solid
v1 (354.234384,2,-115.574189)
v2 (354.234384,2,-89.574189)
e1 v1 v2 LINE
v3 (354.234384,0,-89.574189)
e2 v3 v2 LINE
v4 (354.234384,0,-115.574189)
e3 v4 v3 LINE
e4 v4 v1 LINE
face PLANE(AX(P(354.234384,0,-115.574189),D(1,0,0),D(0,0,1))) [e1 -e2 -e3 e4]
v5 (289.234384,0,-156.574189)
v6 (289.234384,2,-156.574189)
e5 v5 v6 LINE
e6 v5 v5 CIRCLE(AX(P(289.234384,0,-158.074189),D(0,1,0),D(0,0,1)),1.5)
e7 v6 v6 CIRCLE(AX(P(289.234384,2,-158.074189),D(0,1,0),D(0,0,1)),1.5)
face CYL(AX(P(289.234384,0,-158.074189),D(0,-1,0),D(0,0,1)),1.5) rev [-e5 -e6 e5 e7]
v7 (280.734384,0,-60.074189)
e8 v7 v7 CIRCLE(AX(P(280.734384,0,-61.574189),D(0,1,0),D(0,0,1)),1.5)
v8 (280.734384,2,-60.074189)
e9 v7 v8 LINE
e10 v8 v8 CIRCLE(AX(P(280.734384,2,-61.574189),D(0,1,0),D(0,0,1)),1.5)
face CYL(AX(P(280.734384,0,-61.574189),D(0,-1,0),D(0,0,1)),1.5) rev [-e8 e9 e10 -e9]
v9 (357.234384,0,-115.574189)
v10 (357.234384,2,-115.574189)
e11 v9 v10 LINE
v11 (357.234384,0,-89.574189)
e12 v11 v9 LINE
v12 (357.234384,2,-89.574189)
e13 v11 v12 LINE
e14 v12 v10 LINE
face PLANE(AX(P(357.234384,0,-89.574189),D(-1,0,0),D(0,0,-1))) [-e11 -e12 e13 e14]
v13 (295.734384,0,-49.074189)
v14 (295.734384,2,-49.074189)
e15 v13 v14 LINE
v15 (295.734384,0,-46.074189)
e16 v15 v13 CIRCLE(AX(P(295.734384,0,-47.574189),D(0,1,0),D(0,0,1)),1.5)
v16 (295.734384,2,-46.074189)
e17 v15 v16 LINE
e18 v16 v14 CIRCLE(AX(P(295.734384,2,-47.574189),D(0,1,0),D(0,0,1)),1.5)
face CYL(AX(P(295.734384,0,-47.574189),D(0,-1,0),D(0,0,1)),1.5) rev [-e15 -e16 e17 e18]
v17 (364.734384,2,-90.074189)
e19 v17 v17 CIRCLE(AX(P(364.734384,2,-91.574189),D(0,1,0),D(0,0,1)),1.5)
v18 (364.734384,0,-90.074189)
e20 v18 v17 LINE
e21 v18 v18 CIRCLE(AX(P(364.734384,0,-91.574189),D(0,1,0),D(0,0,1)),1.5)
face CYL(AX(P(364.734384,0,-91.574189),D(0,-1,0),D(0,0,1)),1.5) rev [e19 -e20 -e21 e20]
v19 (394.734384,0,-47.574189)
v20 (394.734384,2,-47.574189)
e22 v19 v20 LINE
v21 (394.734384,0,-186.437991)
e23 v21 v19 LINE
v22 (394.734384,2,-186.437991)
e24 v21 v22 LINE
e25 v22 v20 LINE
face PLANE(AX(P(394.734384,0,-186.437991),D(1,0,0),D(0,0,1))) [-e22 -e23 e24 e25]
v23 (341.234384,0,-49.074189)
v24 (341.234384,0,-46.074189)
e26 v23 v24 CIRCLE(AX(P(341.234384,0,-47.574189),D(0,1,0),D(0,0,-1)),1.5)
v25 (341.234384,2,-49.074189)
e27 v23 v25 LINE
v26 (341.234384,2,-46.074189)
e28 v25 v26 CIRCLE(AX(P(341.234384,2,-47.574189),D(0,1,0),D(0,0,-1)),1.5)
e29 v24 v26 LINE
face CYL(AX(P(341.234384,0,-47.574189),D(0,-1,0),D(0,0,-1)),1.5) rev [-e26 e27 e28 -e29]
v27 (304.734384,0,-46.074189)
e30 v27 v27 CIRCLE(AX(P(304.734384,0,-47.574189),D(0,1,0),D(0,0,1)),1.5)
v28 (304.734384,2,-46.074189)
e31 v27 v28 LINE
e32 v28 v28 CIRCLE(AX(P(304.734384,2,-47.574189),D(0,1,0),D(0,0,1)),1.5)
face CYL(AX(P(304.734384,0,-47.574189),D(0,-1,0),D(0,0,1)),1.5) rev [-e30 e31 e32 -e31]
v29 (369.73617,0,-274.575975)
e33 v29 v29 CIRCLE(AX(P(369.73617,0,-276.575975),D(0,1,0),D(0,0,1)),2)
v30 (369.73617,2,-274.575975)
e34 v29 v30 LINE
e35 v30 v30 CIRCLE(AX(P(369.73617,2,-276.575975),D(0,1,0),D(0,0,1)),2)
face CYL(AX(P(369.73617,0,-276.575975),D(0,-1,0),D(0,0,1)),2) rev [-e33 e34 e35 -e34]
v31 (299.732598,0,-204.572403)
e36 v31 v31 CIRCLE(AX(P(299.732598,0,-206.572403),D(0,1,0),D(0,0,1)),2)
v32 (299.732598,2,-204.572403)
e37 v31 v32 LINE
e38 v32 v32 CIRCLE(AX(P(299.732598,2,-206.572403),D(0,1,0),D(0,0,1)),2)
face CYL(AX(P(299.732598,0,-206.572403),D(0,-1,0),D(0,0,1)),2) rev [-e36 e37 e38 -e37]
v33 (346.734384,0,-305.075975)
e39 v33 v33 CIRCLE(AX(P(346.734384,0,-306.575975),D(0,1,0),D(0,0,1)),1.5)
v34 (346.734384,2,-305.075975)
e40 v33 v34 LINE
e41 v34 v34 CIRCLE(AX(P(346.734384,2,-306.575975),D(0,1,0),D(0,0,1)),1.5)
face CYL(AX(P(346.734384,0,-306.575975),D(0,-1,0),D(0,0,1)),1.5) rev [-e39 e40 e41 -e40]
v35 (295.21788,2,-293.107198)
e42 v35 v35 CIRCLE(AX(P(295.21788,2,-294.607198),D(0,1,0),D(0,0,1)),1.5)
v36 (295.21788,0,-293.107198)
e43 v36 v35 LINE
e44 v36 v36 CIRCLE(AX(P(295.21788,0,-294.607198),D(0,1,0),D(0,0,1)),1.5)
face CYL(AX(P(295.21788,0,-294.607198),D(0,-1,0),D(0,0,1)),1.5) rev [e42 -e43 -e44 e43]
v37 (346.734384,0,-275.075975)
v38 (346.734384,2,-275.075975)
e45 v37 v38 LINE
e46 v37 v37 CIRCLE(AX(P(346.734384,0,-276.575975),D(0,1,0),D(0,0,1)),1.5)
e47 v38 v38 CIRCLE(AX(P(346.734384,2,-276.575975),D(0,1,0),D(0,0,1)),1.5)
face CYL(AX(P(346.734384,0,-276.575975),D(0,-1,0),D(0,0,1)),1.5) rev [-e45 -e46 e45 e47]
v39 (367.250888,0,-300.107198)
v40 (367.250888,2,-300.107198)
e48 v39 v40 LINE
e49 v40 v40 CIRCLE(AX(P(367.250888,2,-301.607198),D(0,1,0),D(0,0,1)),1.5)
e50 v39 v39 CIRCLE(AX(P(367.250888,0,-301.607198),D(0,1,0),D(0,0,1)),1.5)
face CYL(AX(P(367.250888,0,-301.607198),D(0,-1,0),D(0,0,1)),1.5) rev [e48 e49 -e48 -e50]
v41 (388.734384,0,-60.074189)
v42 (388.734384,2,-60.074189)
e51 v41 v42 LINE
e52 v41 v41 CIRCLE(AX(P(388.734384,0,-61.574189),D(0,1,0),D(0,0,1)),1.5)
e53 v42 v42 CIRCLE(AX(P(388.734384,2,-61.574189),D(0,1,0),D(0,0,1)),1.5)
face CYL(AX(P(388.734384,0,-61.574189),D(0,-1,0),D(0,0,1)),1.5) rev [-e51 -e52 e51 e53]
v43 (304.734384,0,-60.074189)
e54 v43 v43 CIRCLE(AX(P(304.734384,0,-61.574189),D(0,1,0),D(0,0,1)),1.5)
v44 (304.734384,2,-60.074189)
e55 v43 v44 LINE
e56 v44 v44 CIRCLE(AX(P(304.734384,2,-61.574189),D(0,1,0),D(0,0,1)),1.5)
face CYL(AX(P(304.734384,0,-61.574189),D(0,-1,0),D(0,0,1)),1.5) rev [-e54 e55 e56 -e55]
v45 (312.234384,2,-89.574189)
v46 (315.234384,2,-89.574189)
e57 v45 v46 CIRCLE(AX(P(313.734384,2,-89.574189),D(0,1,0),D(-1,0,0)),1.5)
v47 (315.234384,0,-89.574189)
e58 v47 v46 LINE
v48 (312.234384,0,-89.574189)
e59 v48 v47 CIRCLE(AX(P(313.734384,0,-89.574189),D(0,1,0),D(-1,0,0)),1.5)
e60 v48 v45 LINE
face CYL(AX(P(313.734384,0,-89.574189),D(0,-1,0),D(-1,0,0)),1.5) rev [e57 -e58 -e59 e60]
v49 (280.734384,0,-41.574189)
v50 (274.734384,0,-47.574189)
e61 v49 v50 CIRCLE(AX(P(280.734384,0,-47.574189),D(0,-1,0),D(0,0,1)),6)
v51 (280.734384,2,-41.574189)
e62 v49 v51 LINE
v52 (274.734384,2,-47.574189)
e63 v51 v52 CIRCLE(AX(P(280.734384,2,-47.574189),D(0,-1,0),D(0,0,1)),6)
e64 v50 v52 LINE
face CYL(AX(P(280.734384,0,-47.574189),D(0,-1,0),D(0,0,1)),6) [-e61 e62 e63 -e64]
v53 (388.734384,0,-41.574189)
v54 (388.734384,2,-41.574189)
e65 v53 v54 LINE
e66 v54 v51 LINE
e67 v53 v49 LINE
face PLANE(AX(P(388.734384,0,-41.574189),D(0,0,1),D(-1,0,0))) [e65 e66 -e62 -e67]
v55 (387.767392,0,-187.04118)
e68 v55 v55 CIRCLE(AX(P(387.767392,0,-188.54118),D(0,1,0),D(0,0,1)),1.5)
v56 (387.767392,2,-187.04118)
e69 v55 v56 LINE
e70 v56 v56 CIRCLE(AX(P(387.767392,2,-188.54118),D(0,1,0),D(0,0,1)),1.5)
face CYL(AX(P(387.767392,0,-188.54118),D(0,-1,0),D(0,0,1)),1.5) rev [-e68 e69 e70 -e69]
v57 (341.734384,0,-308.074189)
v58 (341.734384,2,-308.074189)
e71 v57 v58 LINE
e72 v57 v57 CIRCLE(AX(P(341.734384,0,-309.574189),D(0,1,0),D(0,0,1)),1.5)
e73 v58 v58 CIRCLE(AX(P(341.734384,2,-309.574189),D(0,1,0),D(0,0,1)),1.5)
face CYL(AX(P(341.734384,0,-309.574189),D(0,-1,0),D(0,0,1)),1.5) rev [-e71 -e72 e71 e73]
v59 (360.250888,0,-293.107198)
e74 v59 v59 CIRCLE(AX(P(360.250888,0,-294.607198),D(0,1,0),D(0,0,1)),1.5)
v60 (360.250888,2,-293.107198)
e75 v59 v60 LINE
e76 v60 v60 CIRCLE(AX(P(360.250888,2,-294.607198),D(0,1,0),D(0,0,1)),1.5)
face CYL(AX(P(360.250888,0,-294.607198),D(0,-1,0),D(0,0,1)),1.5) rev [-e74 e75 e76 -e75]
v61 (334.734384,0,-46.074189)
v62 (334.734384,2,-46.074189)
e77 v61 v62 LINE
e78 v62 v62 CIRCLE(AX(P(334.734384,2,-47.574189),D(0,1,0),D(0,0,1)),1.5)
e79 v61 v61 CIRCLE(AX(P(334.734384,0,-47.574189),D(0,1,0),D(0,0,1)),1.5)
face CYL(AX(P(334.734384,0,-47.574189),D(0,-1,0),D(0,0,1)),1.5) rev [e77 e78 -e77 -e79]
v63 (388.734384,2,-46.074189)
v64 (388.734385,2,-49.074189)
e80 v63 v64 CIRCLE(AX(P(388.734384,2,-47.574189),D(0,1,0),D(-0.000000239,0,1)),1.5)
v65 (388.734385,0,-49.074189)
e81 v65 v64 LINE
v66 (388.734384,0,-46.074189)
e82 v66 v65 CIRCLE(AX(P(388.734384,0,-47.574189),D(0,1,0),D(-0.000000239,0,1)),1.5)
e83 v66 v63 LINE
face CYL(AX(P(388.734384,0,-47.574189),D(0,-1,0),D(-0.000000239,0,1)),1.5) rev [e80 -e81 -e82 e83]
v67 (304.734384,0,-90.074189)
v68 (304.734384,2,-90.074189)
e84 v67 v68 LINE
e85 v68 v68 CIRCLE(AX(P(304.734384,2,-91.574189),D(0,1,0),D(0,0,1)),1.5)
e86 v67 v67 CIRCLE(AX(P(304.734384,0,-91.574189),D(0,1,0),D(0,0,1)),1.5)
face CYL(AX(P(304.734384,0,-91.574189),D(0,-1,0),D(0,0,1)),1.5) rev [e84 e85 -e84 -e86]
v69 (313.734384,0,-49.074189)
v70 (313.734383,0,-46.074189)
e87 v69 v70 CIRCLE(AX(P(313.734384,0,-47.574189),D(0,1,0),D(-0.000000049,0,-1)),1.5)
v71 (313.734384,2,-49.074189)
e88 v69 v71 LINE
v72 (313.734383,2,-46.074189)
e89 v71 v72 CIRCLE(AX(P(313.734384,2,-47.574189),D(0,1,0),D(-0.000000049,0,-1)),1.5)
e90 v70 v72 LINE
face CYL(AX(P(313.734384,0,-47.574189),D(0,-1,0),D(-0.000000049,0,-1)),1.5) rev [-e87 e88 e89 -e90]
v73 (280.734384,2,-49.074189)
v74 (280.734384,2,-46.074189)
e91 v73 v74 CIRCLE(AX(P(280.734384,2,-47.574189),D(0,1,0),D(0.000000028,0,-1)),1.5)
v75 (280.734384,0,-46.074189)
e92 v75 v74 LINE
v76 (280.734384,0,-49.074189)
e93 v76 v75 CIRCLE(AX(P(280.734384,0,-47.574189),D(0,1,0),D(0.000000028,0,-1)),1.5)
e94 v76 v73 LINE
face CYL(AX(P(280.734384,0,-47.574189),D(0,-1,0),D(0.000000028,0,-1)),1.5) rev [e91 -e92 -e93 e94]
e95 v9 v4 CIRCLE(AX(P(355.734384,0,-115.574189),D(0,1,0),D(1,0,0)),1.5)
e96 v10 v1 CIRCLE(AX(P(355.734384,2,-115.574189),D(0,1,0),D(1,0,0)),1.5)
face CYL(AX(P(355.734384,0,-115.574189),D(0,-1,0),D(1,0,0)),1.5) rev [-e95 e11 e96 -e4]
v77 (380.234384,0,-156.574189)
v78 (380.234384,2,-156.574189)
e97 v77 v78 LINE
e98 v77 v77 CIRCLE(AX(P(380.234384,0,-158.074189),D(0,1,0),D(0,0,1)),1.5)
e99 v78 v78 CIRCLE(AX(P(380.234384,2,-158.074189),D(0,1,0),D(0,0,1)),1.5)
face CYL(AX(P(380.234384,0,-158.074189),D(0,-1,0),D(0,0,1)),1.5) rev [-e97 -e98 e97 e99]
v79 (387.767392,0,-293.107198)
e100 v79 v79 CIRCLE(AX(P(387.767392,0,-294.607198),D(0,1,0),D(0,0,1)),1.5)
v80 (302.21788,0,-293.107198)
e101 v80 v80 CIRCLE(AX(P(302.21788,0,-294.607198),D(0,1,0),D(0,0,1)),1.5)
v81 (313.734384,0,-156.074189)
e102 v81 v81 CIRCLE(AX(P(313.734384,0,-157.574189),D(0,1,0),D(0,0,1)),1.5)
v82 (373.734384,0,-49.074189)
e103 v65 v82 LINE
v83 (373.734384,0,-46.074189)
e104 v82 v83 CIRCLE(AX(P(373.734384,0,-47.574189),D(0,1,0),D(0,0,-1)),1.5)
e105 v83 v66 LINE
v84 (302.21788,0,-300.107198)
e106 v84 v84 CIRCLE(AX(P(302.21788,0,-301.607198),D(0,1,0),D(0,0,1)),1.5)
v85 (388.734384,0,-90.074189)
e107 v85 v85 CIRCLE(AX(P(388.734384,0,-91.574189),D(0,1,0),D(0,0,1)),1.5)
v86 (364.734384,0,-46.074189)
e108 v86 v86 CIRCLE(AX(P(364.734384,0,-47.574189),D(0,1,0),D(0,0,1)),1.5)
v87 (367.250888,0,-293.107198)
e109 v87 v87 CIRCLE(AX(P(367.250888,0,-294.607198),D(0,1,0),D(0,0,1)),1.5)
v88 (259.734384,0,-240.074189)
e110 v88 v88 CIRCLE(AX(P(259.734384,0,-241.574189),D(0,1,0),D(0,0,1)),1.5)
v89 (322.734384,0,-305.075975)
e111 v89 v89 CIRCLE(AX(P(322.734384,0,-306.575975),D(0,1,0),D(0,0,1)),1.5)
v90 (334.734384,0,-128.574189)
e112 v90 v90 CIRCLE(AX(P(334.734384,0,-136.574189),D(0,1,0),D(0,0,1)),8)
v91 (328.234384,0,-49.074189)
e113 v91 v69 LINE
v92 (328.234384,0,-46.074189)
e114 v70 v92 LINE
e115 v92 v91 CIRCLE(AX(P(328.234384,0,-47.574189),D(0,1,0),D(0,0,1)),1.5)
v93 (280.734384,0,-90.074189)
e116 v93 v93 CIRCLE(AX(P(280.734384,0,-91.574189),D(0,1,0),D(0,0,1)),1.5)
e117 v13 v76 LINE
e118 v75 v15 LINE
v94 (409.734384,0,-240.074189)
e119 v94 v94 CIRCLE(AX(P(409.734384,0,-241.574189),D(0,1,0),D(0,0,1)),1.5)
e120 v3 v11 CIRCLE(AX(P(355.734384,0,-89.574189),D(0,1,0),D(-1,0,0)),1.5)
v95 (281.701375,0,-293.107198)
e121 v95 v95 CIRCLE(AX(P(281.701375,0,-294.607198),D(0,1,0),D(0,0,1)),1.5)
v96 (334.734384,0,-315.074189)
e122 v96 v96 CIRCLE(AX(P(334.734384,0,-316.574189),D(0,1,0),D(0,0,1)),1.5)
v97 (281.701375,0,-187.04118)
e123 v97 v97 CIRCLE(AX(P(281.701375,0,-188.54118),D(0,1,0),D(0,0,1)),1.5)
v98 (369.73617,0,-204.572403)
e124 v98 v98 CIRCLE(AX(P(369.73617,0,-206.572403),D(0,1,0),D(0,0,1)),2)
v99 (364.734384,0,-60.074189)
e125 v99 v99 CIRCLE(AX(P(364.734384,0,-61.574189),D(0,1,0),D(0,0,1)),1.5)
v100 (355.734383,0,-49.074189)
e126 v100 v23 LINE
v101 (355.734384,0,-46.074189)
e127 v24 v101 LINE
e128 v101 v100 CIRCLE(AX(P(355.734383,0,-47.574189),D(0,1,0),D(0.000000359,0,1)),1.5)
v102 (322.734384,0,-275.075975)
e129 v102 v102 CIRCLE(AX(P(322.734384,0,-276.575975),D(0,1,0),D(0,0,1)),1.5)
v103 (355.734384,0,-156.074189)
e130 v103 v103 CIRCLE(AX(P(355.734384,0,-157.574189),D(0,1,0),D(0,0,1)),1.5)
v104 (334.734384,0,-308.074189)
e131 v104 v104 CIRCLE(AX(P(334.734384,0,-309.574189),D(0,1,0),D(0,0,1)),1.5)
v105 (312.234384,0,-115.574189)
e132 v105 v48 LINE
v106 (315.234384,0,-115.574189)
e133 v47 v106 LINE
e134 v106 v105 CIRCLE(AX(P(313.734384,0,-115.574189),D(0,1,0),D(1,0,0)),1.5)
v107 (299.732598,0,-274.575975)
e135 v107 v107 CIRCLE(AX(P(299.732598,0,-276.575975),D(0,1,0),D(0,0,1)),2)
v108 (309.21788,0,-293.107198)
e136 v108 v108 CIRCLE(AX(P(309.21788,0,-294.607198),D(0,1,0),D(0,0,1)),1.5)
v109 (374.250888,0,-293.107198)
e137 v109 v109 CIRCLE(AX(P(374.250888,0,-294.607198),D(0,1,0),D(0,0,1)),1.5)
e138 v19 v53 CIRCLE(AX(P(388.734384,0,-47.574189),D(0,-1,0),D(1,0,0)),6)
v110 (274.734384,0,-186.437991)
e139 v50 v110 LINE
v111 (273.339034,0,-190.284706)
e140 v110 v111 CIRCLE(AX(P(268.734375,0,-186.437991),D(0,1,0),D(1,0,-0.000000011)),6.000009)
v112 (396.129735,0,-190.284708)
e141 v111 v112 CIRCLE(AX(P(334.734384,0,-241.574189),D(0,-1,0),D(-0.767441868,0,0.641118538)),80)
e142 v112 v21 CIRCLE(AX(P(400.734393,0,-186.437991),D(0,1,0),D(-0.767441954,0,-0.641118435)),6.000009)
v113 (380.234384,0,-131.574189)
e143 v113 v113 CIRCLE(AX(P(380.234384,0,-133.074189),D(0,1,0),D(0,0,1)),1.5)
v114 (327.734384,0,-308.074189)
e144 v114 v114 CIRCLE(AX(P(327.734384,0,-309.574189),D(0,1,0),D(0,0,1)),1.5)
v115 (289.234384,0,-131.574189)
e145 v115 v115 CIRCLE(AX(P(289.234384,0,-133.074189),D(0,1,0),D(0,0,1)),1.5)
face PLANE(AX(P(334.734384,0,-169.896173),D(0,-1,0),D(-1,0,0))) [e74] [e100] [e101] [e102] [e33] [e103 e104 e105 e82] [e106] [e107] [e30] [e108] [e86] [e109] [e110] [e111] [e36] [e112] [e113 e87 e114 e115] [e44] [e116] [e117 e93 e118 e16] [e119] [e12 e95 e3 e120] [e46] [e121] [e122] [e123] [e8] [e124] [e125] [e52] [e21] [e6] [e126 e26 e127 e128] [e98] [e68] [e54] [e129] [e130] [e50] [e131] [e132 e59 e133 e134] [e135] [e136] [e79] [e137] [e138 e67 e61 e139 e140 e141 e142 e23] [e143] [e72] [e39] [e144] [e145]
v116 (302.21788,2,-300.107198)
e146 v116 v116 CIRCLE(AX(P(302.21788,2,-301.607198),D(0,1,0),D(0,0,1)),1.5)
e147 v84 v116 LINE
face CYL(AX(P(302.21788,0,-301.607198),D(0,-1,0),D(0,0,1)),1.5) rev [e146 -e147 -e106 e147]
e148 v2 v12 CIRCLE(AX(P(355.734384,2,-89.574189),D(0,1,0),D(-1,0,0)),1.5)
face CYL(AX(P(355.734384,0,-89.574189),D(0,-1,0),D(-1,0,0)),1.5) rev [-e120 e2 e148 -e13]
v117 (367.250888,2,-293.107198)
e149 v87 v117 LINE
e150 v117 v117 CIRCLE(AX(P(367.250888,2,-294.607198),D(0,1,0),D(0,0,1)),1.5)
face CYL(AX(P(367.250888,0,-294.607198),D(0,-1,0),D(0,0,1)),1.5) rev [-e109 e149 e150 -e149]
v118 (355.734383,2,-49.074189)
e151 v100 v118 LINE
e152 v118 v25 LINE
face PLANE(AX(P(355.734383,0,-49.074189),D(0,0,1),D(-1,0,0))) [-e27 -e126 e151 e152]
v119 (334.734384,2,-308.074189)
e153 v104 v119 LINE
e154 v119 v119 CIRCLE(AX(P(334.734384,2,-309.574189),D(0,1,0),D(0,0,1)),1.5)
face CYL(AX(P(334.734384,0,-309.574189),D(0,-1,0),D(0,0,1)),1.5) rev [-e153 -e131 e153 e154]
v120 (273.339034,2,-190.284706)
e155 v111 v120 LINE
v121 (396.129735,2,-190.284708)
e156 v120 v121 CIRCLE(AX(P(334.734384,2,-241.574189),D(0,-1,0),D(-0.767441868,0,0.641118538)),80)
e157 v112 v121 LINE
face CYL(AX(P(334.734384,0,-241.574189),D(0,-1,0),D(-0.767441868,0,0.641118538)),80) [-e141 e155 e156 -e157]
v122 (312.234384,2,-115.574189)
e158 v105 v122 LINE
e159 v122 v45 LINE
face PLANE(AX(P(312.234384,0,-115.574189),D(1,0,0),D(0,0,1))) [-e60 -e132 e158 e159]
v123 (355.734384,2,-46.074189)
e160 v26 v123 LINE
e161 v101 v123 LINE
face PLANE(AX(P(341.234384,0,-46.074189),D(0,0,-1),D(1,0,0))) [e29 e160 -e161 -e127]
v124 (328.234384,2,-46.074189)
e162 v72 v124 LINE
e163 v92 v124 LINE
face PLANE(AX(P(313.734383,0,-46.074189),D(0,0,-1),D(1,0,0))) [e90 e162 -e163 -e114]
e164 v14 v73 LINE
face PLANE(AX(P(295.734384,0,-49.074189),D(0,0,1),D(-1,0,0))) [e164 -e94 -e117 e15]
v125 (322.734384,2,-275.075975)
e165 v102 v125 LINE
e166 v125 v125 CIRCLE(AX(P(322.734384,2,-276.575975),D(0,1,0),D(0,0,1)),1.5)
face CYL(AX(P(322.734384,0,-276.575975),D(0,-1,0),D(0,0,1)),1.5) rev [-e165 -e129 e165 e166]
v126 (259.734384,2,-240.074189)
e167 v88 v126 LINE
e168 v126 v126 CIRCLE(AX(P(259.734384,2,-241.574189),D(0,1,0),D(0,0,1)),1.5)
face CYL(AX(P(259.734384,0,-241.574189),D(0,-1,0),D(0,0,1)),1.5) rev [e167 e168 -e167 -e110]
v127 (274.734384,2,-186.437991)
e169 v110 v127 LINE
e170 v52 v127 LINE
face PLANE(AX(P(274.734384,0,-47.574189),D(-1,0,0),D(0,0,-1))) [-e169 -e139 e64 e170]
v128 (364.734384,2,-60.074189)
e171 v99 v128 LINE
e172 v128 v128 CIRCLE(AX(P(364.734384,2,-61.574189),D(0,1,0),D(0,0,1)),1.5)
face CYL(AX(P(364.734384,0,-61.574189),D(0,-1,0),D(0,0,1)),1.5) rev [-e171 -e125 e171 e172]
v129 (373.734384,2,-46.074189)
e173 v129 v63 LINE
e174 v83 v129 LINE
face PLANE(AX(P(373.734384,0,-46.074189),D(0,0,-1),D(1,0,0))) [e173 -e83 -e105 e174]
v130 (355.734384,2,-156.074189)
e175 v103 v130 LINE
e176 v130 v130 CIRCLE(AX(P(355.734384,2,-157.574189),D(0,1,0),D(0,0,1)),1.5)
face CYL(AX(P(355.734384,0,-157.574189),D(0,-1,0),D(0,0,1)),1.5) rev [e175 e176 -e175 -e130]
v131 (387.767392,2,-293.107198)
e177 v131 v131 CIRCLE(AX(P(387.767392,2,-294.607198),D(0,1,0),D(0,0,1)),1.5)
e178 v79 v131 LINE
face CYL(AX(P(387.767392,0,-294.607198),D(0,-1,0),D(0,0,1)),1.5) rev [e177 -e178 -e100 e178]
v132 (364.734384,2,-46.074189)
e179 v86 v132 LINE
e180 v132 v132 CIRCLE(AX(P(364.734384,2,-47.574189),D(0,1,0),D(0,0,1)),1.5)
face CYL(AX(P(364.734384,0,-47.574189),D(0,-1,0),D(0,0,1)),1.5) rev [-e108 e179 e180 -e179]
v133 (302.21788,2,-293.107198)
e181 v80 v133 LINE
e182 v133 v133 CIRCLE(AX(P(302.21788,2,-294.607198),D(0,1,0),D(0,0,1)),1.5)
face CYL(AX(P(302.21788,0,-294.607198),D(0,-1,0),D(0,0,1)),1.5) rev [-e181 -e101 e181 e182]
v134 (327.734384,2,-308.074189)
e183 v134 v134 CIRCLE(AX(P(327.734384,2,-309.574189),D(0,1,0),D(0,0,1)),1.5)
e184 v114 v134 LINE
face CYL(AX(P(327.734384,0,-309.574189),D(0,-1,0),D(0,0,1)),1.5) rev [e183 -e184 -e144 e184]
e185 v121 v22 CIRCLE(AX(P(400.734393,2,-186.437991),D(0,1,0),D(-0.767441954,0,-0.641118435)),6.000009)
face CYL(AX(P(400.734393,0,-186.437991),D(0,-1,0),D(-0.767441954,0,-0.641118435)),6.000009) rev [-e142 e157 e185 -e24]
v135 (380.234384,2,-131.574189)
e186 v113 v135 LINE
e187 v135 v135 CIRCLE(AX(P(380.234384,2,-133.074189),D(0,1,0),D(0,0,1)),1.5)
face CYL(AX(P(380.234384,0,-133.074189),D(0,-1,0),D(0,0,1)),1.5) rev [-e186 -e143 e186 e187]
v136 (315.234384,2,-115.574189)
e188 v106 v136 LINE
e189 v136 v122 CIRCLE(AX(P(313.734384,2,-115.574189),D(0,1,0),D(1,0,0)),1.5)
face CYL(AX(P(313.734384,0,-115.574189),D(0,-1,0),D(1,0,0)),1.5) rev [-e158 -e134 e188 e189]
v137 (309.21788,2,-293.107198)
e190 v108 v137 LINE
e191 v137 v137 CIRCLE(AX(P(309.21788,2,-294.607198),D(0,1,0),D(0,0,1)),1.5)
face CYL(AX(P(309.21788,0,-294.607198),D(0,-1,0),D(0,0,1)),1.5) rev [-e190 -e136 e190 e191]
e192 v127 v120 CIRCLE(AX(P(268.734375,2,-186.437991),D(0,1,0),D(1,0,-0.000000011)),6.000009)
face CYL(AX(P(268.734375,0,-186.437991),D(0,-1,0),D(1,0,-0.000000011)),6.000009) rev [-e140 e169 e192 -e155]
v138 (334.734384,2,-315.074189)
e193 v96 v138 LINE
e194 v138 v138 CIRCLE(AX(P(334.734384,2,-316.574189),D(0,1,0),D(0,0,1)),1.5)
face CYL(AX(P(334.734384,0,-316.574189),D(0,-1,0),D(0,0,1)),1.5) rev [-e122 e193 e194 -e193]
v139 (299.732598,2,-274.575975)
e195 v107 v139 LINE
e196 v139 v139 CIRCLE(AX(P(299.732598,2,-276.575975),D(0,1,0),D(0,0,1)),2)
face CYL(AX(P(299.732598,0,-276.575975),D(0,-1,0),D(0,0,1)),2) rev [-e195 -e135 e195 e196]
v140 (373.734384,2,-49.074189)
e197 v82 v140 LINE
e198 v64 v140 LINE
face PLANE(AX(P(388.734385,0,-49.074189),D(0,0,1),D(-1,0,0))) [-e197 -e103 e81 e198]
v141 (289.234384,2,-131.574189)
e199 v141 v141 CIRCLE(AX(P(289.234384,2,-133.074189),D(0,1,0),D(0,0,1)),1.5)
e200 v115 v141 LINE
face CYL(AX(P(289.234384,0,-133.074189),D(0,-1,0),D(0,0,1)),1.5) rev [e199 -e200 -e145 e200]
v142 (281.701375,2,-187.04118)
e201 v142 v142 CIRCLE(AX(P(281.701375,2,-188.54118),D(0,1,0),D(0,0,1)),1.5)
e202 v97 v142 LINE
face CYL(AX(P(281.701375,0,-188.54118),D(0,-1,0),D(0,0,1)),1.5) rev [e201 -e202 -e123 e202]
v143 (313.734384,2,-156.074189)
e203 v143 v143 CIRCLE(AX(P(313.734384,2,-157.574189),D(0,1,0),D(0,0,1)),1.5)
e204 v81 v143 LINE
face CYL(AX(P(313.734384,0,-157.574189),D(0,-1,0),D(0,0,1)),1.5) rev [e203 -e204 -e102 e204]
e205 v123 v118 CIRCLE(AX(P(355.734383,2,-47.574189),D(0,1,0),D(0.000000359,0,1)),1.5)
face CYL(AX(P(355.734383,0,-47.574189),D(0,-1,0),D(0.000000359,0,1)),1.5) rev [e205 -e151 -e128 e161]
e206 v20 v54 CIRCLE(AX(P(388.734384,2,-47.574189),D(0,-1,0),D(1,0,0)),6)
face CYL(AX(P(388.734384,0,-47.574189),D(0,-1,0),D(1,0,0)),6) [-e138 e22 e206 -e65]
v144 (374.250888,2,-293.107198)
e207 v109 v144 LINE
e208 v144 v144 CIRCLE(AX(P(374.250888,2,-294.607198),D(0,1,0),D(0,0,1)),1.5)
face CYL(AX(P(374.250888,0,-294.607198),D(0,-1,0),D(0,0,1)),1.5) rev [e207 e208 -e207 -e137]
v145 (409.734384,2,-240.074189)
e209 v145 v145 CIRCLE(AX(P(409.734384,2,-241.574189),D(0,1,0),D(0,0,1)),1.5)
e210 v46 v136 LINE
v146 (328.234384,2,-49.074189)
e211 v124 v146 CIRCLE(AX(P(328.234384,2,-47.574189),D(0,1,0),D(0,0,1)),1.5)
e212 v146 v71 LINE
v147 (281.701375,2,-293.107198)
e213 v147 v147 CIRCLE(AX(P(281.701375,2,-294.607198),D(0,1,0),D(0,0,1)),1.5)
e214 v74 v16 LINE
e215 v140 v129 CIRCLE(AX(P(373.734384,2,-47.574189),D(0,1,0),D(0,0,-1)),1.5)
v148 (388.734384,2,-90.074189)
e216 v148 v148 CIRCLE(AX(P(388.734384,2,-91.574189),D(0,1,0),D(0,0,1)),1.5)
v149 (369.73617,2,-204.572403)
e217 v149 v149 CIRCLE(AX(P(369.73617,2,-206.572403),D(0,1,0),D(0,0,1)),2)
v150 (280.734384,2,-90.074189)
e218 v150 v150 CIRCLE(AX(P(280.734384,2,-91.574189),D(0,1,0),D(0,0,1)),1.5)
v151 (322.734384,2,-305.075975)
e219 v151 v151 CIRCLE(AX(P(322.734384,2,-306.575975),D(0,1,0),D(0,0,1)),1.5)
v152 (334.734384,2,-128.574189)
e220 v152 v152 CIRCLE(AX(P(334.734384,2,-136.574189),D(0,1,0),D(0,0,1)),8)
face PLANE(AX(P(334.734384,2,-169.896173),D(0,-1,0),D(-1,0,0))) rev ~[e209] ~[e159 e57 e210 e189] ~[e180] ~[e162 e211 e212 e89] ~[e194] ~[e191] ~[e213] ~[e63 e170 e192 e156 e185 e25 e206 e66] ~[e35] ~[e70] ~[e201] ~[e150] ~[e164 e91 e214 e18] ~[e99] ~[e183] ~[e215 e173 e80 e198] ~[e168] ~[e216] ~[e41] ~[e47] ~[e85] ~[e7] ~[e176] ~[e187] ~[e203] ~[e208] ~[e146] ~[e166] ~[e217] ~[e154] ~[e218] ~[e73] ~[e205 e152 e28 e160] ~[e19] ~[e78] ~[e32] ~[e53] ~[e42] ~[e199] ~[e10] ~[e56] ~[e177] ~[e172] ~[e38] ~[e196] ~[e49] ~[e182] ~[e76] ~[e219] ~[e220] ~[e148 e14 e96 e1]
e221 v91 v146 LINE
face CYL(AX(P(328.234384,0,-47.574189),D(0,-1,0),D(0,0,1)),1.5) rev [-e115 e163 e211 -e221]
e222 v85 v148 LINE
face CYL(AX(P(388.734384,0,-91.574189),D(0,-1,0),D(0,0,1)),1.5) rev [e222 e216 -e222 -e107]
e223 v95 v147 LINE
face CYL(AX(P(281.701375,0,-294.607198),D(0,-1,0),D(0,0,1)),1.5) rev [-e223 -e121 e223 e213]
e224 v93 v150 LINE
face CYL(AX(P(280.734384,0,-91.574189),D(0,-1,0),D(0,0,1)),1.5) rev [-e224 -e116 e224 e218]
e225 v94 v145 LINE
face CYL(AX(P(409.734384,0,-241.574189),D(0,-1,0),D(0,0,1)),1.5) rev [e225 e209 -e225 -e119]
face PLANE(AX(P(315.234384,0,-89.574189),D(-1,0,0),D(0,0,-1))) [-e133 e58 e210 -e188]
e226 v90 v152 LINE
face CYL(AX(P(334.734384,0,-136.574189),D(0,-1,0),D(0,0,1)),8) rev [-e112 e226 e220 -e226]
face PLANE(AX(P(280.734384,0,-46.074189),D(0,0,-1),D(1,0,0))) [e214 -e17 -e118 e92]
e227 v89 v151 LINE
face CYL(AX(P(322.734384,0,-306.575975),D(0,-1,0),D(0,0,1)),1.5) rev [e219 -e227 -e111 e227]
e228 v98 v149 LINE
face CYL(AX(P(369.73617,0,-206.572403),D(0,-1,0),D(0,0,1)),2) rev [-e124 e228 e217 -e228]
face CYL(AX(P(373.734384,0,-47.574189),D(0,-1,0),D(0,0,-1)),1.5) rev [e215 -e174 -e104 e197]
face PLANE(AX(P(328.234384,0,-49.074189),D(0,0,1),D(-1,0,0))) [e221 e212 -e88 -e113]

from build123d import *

# Parameters (mm, degrees)
SKETCH_1_R      = 2
SKETCH_1_R_2    = 1.5
SKETCH_1_R_3    = 8
EXTRUDE_1_DEPTH = 2


with BuildPart() as part:
    # 草图1 → 凸台-拉伸1 (new body)
    with BuildSketch(Plane(origin=(0, 0, 0), x_dir=(1, 0, 0), z_dir=(0, 1, 0))):
        with BuildLine():
            Line((394.734384308, 186.437991397), (394.734384308, 47.57418904))
            ThreePointArc((394.734384308, 47.57418904), (392.977024848, 43.331548206), (388.734383891, 41.574189041))
            Line((388.734383891, 41.574189041), (280.734383891, 41.574189041))
            ThreePointArc((280.734383891, 41.574189041), (276.491743204, 43.331548353), (274.734383891, 47.57418904))
            Line((274.734383891, 47.57418904), (274.734383891, 186.437990955))
            ThreePointArc((274.734383891, 186.437990955), (274.37476968, 188.483975832), (273.339034487, 190.284705991))
            ThreePointArc((273.339034487, 190.284705991), (334.734382872, 321.574189041), (396.129734602, 190.284707555))
            ThreePointArc((396.129734602, 190.284707555), (395.093998746, 188.483976956), (394.734384308, 186.437991397))
        make_face()
        with Locations(Location((369.73616956, 276.575974709, 0), (0, 0, 270))):
            Circle(SKETCH_1_R, mode=Mode.SUBTRACT)
        with Locations(Location((369.73616956, 206.572403372, 0), (0, 0, 270))):
            Circle(SKETCH_1_R, mode=Mode.SUBTRACT)
        with Locations(Location((299.732598222, 206.572403372, 0), (0, 0, 270))):
            Circle(SKETCH_1_R, mode=Mode.SUBTRACT)
        with Locations(Location((313.734383891, 157.57418904, 0), (0, 0, 270))):
            Circle(SKETCH_1_R_2, mode=Mode.SUBTRACT)
        with Locations(Location((355.734383891, 157.57418904, 0), (0, 0, 270))):
            Circle(SKETCH_1_R_2, mode=Mode.SUBTRACT)
        with Locations(Location((380.234383891, 133.07418904, 0), (0, 0, 270))):
            Circle(SKETCH_1_R_2, mode=Mode.SUBTRACT)
        with Locations(Location((380.234383891, 158.07418904, 0), (0, 0, 270))):
            Circle(SKETCH_1_R_2, mode=Mode.SUBTRACT)
        with Locations(Location((364.734383891, 61.57418904, 0), (0, 0, 270))):
            Circle(SKETCH_1_R_2, mode=Mode.SUBTRACT)
        with Locations(Location((388.734383891, 61.57418904, 0), (0, 0, 270))):
            Circle(SKETCH_1_R_2, mode=Mode.SUBTRACT)
        with Locations(Location((364.734383891, 91.57418904, 0), (0, 0, 270))):
            Circle(SKETCH_1_R_2, mode=Mode.SUBTRACT)
        with Locations(Location((388.734383891, 91.57418904, 0), (0, 0, 270))):
            Circle(SKETCH_1_R_2, mode=Mode.SUBTRACT)
        with Locations(Location((304.734383891, 61.57418904, 0), (0, 0, 270))):
            Circle(SKETCH_1_R_2, mode=Mode.SUBTRACT)
        with Locations(Location((280.734383891, 61.57418904, 0), (0, 0, 270))):
            Circle(SKETCH_1_R_2, mode=Mode.SUBTRACT)
        with Locations(Location((304.734383891, 91.57418904, 0), (0, 0, 270))):
            Circle(SKETCH_1_R_2, mode=Mode.SUBTRACT)
        with Locations(Location((280.734383891, 91.57418904, 0), (0, 0, 270))):
            Circle(SKETCH_1_R_2, mode=Mode.SUBTRACT)
        with Locations(Location((334.734383891, 316.57418904, 0), (0, 0, 270))):
            Circle(SKETCH_1_R_2, mode=Mode.SUBTRACT)
        with Locations(Location((281.701375302, 294.607197629, 0), (0, 0, 270))):
            Circle(SKETCH_1_R_2, mode=Mode.SUBTRACT)
        with Locations(Location((259.734383891, 241.574189041, 0), (0, 0, 270))):
            Circle(SKETCH_1_R_2, mode=Mode.SUBTRACT)
        with Locations(Location((281.701375302, 188.541180451, 0), (0, 0, 270))):
            Circle(SKETCH_1_R_2, mode=Mode.SUBTRACT)
        with Locations(Location((387.76739248, 188.541180451, 0), (0, 0, 270))):
            Circle(SKETCH_1_R_2, mode=Mode.SUBTRACT)
        with Locations(Location((409.734383891, 241.574189041, 0), (0, 0, 270))):
            Circle(SKETCH_1_R_2, mode=Mode.SUBTRACT)
        with Locations(Location((387.76739248, 294.607197629, 0), (0, 0, 270))):
            Circle(SKETCH_1_R_2, mode=Mode.SUBTRACT)
        with Locations(Location((322.734383891, 306.575974709, 0), (0, 0, 270))):
            Circle(SKETCH_1_R_2, mode=Mode.SUBTRACT)
        with Locations(Location((346.734383891, 306.575974709, 0), (0, 0, 270))):
            Circle(SKETCH_1_R_2, mode=Mode.SUBTRACT)
        with Locations(Location((322.734383891, 276.575974709, 0), (0, 0, 270))):
            Circle(SKETCH_1_R_2, mode=Mode.SUBTRACT)
        with Locations(Location((346.734383891, 276.575974709, 0), (0, 0, 270))):
            Circle(SKETCH_1_R_2, mode=Mode.SUBTRACT)
        with Locations(Location((334.734383891, 309.57418904, 0), (0, 0, 270))):
            Circle(SKETCH_1_R_2, mode=Mode.SUBTRACT)
        with Locations(Location((341.734383891, 309.57418904, 0), (0, 0, 270))):
            Circle(SKETCH_1_R_2, mode=Mode.SUBTRACT)
        with Locations(Location((327.734383891, 309.57418904, 0), (0, 0, 270))):
            Circle(SKETCH_1_R_2, mode=Mode.SUBTRACT)
        with Locations(Location((302.217879596, 301.607197629, 0), (0, 0, 270))):
            Circle(SKETCH_1_R_2, mode=Mode.SUBTRACT)
        with Locations(Location((302.217879596, 294.607197629, 0), (0, 0, 270))):
            Circle(SKETCH_1_R_2, mode=Mode.SUBTRACT)
        with Locations(Location((309.217879596, 294.607197629, 0), (0, 0, 270))):
            Circle(SKETCH_1_R_2, mode=Mode.SUBTRACT)
        with Locations(Location((295.217879596, 294.607197629, 0), (0, 0, 270))):
            Circle(SKETCH_1_R_2, mode=Mode.SUBTRACT)
        with Locations(Location((367.250888185, 301.607197629, 0), (0, 0, 270))):
            Circle(SKETCH_1_R_2, mode=Mode.SUBTRACT)
        with Locations(Location((367.250888185, 294.607197629, 0), (0, 0, 270))):
            Circle(SKETCH_1_R_2, mode=Mode.SUBTRACT)
        with Locations(Location((360.250888185, 294.607197629, 0), (0, 0, 270))):
            Circle(SKETCH_1_R_2, mode=Mode.SUBTRACT)
        with Locations(Location((374.250888185, 294.607197629, 0), (0, 0, 270))):
            Circle(SKETCH_1_R_2, mode=Mode.SUBTRACT)
        with Locations(Location((289.234383891, 133.07418904, 0), (0, 0, 270))):
            Circle(SKETCH_1_R_2, mode=Mode.SUBTRACT)
        with Locations(Location((289.234383891, 158.07418904, 0), (0, 0, 270))):
            Circle(SKETCH_1_R_2, mode=Mode.SUBTRACT)
        with Locations(Location((304.734383891, 47.57418904, 0), (0, 0, 270))):
            Circle(SKETCH_1_R_2, mode=Mode.SUBTRACT)
        with Locations(Location((364.734383891, 47.57418904, 0), (0, 0, 270))):
            Circle(SKETCH_1_R_2, mode=Mode.SUBTRACT)
        with Locations(Location((334.734383891, 47.57418904, 0), (0, 0, 270))):
            Circle(SKETCH_1_R_2, mode=Mode.SUBTRACT)
        with Locations(Location((334.734383891, 136.57418904, 0), (0, 0, 270))):
            Circle(SKETCH_1_R_3, mode=Mode.SUBTRACT)
        with Locations(Location((299.732598222, 276.575974709, 0), (0, 0, 270))):
            Circle(SKETCH_1_R, mode=Mode.SUBTRACT)
        with BuildLine():
            Line((354.234383891, 115.57418904), (354.234383891, 89.57418904))
            ThreePointArc((354.234383891, 89.57418904), (355.734383891, 88.07418904), (357.234383891, 89.57418904))
            Line((357.234383891, 89.57418904), (357.234383891, 115.57418904))
            ThreePointArc((357.234383891, 115.57418904), (355.734383891, 117.07418904), (354.234383891, 115.57418904))
        make_face(mode=Mode.SUBTRACT)
        with BuildLine():
            Line((312.234383891, 115.57418904), (312.234383891, 89.57418904))
            ThreePointArc((312.234383891, 89.57418904), (313.734383891, 88.07418904), (315.234383891, 89.57418904))
            Line((315.234383891, 89.57418904), (315.234383891, 115.57418904))
            ThreePointArc((315.234383891, 115.57418904), (313.734383891, 117.07418904), (312.234383891, 115.57418904))
        make_face(mode=Mode.SUBTRACT)
        with BuildLine():
            Line((373.73438389, 46.07418904), (388.734383949, 46.07418904))
            ThreePointArc((388.734383949, 46.07418904), (390.234384308, 47.574188681), (388.734384668, 49.07418904))
            Line((388.734384668, 49.07418904), (373.734383891, 49.07418904))
            ThreePointArc((373.734383891, 49.07418904), (372.234383891, 47.574189041), (373.73438389, 46.07418904))
        make_face(mode=Mode.SUBTRACT)
        with BuildLine():
            Line((295.734383891, 49.07418904), (280.734383933, 49.07418904))
            ThreePointArc((280.734383933, 49.07418904), (279.234383891, 47.574189156), (280.734383701, 46.07418904))
            Line((280.734383701, 46.07418904), (295.734383891, 46.07418904))
            ThreePointArc((295.734383891, 46.07418904), (297.234383891, 47.57418904), (295.734383891, 49.07418904))
        make_face(mode=Mode.SUBTRACT)
        with BuildLine():
            Line((341.23438389, 46.07418904), (355.734383901, 46.07418904))
            ThreePointArc((355.734383901, 46.07418904), (357.234383363, 47.574189579), (355.734382825, 49.07418904))
            Line((355.734382825, 49.07418904), (341.234383891, 49.07418904))
            ThreePointArc((341.234383891, 49.07418904), (339.734383891, 47.574189041), (341.23438389, 46.07418904))
        make_face(mode=Mode.SUBTRACT)
        with BuildLine():
            Line((328.234383891, 49.07418904), (313.734383817, 49.07418904))
            ThreePointArc((313.734383817, 49.07418904), (312.234383891, 47.5741895), (313.734382898, 46.07418904))
            Line((313.734382898, 46.07418904), (328.234383891, 46.07418904))
            ThreePointArc((328.234383891, 46.07418904), (329.734383891, 47.57418904), (328.234383891, 49.07418904))
        make_face(mode=Mode.SUBTRACT)
    extrude(amount=EXTRUDE_1_DEPTH)


solid = part.part
